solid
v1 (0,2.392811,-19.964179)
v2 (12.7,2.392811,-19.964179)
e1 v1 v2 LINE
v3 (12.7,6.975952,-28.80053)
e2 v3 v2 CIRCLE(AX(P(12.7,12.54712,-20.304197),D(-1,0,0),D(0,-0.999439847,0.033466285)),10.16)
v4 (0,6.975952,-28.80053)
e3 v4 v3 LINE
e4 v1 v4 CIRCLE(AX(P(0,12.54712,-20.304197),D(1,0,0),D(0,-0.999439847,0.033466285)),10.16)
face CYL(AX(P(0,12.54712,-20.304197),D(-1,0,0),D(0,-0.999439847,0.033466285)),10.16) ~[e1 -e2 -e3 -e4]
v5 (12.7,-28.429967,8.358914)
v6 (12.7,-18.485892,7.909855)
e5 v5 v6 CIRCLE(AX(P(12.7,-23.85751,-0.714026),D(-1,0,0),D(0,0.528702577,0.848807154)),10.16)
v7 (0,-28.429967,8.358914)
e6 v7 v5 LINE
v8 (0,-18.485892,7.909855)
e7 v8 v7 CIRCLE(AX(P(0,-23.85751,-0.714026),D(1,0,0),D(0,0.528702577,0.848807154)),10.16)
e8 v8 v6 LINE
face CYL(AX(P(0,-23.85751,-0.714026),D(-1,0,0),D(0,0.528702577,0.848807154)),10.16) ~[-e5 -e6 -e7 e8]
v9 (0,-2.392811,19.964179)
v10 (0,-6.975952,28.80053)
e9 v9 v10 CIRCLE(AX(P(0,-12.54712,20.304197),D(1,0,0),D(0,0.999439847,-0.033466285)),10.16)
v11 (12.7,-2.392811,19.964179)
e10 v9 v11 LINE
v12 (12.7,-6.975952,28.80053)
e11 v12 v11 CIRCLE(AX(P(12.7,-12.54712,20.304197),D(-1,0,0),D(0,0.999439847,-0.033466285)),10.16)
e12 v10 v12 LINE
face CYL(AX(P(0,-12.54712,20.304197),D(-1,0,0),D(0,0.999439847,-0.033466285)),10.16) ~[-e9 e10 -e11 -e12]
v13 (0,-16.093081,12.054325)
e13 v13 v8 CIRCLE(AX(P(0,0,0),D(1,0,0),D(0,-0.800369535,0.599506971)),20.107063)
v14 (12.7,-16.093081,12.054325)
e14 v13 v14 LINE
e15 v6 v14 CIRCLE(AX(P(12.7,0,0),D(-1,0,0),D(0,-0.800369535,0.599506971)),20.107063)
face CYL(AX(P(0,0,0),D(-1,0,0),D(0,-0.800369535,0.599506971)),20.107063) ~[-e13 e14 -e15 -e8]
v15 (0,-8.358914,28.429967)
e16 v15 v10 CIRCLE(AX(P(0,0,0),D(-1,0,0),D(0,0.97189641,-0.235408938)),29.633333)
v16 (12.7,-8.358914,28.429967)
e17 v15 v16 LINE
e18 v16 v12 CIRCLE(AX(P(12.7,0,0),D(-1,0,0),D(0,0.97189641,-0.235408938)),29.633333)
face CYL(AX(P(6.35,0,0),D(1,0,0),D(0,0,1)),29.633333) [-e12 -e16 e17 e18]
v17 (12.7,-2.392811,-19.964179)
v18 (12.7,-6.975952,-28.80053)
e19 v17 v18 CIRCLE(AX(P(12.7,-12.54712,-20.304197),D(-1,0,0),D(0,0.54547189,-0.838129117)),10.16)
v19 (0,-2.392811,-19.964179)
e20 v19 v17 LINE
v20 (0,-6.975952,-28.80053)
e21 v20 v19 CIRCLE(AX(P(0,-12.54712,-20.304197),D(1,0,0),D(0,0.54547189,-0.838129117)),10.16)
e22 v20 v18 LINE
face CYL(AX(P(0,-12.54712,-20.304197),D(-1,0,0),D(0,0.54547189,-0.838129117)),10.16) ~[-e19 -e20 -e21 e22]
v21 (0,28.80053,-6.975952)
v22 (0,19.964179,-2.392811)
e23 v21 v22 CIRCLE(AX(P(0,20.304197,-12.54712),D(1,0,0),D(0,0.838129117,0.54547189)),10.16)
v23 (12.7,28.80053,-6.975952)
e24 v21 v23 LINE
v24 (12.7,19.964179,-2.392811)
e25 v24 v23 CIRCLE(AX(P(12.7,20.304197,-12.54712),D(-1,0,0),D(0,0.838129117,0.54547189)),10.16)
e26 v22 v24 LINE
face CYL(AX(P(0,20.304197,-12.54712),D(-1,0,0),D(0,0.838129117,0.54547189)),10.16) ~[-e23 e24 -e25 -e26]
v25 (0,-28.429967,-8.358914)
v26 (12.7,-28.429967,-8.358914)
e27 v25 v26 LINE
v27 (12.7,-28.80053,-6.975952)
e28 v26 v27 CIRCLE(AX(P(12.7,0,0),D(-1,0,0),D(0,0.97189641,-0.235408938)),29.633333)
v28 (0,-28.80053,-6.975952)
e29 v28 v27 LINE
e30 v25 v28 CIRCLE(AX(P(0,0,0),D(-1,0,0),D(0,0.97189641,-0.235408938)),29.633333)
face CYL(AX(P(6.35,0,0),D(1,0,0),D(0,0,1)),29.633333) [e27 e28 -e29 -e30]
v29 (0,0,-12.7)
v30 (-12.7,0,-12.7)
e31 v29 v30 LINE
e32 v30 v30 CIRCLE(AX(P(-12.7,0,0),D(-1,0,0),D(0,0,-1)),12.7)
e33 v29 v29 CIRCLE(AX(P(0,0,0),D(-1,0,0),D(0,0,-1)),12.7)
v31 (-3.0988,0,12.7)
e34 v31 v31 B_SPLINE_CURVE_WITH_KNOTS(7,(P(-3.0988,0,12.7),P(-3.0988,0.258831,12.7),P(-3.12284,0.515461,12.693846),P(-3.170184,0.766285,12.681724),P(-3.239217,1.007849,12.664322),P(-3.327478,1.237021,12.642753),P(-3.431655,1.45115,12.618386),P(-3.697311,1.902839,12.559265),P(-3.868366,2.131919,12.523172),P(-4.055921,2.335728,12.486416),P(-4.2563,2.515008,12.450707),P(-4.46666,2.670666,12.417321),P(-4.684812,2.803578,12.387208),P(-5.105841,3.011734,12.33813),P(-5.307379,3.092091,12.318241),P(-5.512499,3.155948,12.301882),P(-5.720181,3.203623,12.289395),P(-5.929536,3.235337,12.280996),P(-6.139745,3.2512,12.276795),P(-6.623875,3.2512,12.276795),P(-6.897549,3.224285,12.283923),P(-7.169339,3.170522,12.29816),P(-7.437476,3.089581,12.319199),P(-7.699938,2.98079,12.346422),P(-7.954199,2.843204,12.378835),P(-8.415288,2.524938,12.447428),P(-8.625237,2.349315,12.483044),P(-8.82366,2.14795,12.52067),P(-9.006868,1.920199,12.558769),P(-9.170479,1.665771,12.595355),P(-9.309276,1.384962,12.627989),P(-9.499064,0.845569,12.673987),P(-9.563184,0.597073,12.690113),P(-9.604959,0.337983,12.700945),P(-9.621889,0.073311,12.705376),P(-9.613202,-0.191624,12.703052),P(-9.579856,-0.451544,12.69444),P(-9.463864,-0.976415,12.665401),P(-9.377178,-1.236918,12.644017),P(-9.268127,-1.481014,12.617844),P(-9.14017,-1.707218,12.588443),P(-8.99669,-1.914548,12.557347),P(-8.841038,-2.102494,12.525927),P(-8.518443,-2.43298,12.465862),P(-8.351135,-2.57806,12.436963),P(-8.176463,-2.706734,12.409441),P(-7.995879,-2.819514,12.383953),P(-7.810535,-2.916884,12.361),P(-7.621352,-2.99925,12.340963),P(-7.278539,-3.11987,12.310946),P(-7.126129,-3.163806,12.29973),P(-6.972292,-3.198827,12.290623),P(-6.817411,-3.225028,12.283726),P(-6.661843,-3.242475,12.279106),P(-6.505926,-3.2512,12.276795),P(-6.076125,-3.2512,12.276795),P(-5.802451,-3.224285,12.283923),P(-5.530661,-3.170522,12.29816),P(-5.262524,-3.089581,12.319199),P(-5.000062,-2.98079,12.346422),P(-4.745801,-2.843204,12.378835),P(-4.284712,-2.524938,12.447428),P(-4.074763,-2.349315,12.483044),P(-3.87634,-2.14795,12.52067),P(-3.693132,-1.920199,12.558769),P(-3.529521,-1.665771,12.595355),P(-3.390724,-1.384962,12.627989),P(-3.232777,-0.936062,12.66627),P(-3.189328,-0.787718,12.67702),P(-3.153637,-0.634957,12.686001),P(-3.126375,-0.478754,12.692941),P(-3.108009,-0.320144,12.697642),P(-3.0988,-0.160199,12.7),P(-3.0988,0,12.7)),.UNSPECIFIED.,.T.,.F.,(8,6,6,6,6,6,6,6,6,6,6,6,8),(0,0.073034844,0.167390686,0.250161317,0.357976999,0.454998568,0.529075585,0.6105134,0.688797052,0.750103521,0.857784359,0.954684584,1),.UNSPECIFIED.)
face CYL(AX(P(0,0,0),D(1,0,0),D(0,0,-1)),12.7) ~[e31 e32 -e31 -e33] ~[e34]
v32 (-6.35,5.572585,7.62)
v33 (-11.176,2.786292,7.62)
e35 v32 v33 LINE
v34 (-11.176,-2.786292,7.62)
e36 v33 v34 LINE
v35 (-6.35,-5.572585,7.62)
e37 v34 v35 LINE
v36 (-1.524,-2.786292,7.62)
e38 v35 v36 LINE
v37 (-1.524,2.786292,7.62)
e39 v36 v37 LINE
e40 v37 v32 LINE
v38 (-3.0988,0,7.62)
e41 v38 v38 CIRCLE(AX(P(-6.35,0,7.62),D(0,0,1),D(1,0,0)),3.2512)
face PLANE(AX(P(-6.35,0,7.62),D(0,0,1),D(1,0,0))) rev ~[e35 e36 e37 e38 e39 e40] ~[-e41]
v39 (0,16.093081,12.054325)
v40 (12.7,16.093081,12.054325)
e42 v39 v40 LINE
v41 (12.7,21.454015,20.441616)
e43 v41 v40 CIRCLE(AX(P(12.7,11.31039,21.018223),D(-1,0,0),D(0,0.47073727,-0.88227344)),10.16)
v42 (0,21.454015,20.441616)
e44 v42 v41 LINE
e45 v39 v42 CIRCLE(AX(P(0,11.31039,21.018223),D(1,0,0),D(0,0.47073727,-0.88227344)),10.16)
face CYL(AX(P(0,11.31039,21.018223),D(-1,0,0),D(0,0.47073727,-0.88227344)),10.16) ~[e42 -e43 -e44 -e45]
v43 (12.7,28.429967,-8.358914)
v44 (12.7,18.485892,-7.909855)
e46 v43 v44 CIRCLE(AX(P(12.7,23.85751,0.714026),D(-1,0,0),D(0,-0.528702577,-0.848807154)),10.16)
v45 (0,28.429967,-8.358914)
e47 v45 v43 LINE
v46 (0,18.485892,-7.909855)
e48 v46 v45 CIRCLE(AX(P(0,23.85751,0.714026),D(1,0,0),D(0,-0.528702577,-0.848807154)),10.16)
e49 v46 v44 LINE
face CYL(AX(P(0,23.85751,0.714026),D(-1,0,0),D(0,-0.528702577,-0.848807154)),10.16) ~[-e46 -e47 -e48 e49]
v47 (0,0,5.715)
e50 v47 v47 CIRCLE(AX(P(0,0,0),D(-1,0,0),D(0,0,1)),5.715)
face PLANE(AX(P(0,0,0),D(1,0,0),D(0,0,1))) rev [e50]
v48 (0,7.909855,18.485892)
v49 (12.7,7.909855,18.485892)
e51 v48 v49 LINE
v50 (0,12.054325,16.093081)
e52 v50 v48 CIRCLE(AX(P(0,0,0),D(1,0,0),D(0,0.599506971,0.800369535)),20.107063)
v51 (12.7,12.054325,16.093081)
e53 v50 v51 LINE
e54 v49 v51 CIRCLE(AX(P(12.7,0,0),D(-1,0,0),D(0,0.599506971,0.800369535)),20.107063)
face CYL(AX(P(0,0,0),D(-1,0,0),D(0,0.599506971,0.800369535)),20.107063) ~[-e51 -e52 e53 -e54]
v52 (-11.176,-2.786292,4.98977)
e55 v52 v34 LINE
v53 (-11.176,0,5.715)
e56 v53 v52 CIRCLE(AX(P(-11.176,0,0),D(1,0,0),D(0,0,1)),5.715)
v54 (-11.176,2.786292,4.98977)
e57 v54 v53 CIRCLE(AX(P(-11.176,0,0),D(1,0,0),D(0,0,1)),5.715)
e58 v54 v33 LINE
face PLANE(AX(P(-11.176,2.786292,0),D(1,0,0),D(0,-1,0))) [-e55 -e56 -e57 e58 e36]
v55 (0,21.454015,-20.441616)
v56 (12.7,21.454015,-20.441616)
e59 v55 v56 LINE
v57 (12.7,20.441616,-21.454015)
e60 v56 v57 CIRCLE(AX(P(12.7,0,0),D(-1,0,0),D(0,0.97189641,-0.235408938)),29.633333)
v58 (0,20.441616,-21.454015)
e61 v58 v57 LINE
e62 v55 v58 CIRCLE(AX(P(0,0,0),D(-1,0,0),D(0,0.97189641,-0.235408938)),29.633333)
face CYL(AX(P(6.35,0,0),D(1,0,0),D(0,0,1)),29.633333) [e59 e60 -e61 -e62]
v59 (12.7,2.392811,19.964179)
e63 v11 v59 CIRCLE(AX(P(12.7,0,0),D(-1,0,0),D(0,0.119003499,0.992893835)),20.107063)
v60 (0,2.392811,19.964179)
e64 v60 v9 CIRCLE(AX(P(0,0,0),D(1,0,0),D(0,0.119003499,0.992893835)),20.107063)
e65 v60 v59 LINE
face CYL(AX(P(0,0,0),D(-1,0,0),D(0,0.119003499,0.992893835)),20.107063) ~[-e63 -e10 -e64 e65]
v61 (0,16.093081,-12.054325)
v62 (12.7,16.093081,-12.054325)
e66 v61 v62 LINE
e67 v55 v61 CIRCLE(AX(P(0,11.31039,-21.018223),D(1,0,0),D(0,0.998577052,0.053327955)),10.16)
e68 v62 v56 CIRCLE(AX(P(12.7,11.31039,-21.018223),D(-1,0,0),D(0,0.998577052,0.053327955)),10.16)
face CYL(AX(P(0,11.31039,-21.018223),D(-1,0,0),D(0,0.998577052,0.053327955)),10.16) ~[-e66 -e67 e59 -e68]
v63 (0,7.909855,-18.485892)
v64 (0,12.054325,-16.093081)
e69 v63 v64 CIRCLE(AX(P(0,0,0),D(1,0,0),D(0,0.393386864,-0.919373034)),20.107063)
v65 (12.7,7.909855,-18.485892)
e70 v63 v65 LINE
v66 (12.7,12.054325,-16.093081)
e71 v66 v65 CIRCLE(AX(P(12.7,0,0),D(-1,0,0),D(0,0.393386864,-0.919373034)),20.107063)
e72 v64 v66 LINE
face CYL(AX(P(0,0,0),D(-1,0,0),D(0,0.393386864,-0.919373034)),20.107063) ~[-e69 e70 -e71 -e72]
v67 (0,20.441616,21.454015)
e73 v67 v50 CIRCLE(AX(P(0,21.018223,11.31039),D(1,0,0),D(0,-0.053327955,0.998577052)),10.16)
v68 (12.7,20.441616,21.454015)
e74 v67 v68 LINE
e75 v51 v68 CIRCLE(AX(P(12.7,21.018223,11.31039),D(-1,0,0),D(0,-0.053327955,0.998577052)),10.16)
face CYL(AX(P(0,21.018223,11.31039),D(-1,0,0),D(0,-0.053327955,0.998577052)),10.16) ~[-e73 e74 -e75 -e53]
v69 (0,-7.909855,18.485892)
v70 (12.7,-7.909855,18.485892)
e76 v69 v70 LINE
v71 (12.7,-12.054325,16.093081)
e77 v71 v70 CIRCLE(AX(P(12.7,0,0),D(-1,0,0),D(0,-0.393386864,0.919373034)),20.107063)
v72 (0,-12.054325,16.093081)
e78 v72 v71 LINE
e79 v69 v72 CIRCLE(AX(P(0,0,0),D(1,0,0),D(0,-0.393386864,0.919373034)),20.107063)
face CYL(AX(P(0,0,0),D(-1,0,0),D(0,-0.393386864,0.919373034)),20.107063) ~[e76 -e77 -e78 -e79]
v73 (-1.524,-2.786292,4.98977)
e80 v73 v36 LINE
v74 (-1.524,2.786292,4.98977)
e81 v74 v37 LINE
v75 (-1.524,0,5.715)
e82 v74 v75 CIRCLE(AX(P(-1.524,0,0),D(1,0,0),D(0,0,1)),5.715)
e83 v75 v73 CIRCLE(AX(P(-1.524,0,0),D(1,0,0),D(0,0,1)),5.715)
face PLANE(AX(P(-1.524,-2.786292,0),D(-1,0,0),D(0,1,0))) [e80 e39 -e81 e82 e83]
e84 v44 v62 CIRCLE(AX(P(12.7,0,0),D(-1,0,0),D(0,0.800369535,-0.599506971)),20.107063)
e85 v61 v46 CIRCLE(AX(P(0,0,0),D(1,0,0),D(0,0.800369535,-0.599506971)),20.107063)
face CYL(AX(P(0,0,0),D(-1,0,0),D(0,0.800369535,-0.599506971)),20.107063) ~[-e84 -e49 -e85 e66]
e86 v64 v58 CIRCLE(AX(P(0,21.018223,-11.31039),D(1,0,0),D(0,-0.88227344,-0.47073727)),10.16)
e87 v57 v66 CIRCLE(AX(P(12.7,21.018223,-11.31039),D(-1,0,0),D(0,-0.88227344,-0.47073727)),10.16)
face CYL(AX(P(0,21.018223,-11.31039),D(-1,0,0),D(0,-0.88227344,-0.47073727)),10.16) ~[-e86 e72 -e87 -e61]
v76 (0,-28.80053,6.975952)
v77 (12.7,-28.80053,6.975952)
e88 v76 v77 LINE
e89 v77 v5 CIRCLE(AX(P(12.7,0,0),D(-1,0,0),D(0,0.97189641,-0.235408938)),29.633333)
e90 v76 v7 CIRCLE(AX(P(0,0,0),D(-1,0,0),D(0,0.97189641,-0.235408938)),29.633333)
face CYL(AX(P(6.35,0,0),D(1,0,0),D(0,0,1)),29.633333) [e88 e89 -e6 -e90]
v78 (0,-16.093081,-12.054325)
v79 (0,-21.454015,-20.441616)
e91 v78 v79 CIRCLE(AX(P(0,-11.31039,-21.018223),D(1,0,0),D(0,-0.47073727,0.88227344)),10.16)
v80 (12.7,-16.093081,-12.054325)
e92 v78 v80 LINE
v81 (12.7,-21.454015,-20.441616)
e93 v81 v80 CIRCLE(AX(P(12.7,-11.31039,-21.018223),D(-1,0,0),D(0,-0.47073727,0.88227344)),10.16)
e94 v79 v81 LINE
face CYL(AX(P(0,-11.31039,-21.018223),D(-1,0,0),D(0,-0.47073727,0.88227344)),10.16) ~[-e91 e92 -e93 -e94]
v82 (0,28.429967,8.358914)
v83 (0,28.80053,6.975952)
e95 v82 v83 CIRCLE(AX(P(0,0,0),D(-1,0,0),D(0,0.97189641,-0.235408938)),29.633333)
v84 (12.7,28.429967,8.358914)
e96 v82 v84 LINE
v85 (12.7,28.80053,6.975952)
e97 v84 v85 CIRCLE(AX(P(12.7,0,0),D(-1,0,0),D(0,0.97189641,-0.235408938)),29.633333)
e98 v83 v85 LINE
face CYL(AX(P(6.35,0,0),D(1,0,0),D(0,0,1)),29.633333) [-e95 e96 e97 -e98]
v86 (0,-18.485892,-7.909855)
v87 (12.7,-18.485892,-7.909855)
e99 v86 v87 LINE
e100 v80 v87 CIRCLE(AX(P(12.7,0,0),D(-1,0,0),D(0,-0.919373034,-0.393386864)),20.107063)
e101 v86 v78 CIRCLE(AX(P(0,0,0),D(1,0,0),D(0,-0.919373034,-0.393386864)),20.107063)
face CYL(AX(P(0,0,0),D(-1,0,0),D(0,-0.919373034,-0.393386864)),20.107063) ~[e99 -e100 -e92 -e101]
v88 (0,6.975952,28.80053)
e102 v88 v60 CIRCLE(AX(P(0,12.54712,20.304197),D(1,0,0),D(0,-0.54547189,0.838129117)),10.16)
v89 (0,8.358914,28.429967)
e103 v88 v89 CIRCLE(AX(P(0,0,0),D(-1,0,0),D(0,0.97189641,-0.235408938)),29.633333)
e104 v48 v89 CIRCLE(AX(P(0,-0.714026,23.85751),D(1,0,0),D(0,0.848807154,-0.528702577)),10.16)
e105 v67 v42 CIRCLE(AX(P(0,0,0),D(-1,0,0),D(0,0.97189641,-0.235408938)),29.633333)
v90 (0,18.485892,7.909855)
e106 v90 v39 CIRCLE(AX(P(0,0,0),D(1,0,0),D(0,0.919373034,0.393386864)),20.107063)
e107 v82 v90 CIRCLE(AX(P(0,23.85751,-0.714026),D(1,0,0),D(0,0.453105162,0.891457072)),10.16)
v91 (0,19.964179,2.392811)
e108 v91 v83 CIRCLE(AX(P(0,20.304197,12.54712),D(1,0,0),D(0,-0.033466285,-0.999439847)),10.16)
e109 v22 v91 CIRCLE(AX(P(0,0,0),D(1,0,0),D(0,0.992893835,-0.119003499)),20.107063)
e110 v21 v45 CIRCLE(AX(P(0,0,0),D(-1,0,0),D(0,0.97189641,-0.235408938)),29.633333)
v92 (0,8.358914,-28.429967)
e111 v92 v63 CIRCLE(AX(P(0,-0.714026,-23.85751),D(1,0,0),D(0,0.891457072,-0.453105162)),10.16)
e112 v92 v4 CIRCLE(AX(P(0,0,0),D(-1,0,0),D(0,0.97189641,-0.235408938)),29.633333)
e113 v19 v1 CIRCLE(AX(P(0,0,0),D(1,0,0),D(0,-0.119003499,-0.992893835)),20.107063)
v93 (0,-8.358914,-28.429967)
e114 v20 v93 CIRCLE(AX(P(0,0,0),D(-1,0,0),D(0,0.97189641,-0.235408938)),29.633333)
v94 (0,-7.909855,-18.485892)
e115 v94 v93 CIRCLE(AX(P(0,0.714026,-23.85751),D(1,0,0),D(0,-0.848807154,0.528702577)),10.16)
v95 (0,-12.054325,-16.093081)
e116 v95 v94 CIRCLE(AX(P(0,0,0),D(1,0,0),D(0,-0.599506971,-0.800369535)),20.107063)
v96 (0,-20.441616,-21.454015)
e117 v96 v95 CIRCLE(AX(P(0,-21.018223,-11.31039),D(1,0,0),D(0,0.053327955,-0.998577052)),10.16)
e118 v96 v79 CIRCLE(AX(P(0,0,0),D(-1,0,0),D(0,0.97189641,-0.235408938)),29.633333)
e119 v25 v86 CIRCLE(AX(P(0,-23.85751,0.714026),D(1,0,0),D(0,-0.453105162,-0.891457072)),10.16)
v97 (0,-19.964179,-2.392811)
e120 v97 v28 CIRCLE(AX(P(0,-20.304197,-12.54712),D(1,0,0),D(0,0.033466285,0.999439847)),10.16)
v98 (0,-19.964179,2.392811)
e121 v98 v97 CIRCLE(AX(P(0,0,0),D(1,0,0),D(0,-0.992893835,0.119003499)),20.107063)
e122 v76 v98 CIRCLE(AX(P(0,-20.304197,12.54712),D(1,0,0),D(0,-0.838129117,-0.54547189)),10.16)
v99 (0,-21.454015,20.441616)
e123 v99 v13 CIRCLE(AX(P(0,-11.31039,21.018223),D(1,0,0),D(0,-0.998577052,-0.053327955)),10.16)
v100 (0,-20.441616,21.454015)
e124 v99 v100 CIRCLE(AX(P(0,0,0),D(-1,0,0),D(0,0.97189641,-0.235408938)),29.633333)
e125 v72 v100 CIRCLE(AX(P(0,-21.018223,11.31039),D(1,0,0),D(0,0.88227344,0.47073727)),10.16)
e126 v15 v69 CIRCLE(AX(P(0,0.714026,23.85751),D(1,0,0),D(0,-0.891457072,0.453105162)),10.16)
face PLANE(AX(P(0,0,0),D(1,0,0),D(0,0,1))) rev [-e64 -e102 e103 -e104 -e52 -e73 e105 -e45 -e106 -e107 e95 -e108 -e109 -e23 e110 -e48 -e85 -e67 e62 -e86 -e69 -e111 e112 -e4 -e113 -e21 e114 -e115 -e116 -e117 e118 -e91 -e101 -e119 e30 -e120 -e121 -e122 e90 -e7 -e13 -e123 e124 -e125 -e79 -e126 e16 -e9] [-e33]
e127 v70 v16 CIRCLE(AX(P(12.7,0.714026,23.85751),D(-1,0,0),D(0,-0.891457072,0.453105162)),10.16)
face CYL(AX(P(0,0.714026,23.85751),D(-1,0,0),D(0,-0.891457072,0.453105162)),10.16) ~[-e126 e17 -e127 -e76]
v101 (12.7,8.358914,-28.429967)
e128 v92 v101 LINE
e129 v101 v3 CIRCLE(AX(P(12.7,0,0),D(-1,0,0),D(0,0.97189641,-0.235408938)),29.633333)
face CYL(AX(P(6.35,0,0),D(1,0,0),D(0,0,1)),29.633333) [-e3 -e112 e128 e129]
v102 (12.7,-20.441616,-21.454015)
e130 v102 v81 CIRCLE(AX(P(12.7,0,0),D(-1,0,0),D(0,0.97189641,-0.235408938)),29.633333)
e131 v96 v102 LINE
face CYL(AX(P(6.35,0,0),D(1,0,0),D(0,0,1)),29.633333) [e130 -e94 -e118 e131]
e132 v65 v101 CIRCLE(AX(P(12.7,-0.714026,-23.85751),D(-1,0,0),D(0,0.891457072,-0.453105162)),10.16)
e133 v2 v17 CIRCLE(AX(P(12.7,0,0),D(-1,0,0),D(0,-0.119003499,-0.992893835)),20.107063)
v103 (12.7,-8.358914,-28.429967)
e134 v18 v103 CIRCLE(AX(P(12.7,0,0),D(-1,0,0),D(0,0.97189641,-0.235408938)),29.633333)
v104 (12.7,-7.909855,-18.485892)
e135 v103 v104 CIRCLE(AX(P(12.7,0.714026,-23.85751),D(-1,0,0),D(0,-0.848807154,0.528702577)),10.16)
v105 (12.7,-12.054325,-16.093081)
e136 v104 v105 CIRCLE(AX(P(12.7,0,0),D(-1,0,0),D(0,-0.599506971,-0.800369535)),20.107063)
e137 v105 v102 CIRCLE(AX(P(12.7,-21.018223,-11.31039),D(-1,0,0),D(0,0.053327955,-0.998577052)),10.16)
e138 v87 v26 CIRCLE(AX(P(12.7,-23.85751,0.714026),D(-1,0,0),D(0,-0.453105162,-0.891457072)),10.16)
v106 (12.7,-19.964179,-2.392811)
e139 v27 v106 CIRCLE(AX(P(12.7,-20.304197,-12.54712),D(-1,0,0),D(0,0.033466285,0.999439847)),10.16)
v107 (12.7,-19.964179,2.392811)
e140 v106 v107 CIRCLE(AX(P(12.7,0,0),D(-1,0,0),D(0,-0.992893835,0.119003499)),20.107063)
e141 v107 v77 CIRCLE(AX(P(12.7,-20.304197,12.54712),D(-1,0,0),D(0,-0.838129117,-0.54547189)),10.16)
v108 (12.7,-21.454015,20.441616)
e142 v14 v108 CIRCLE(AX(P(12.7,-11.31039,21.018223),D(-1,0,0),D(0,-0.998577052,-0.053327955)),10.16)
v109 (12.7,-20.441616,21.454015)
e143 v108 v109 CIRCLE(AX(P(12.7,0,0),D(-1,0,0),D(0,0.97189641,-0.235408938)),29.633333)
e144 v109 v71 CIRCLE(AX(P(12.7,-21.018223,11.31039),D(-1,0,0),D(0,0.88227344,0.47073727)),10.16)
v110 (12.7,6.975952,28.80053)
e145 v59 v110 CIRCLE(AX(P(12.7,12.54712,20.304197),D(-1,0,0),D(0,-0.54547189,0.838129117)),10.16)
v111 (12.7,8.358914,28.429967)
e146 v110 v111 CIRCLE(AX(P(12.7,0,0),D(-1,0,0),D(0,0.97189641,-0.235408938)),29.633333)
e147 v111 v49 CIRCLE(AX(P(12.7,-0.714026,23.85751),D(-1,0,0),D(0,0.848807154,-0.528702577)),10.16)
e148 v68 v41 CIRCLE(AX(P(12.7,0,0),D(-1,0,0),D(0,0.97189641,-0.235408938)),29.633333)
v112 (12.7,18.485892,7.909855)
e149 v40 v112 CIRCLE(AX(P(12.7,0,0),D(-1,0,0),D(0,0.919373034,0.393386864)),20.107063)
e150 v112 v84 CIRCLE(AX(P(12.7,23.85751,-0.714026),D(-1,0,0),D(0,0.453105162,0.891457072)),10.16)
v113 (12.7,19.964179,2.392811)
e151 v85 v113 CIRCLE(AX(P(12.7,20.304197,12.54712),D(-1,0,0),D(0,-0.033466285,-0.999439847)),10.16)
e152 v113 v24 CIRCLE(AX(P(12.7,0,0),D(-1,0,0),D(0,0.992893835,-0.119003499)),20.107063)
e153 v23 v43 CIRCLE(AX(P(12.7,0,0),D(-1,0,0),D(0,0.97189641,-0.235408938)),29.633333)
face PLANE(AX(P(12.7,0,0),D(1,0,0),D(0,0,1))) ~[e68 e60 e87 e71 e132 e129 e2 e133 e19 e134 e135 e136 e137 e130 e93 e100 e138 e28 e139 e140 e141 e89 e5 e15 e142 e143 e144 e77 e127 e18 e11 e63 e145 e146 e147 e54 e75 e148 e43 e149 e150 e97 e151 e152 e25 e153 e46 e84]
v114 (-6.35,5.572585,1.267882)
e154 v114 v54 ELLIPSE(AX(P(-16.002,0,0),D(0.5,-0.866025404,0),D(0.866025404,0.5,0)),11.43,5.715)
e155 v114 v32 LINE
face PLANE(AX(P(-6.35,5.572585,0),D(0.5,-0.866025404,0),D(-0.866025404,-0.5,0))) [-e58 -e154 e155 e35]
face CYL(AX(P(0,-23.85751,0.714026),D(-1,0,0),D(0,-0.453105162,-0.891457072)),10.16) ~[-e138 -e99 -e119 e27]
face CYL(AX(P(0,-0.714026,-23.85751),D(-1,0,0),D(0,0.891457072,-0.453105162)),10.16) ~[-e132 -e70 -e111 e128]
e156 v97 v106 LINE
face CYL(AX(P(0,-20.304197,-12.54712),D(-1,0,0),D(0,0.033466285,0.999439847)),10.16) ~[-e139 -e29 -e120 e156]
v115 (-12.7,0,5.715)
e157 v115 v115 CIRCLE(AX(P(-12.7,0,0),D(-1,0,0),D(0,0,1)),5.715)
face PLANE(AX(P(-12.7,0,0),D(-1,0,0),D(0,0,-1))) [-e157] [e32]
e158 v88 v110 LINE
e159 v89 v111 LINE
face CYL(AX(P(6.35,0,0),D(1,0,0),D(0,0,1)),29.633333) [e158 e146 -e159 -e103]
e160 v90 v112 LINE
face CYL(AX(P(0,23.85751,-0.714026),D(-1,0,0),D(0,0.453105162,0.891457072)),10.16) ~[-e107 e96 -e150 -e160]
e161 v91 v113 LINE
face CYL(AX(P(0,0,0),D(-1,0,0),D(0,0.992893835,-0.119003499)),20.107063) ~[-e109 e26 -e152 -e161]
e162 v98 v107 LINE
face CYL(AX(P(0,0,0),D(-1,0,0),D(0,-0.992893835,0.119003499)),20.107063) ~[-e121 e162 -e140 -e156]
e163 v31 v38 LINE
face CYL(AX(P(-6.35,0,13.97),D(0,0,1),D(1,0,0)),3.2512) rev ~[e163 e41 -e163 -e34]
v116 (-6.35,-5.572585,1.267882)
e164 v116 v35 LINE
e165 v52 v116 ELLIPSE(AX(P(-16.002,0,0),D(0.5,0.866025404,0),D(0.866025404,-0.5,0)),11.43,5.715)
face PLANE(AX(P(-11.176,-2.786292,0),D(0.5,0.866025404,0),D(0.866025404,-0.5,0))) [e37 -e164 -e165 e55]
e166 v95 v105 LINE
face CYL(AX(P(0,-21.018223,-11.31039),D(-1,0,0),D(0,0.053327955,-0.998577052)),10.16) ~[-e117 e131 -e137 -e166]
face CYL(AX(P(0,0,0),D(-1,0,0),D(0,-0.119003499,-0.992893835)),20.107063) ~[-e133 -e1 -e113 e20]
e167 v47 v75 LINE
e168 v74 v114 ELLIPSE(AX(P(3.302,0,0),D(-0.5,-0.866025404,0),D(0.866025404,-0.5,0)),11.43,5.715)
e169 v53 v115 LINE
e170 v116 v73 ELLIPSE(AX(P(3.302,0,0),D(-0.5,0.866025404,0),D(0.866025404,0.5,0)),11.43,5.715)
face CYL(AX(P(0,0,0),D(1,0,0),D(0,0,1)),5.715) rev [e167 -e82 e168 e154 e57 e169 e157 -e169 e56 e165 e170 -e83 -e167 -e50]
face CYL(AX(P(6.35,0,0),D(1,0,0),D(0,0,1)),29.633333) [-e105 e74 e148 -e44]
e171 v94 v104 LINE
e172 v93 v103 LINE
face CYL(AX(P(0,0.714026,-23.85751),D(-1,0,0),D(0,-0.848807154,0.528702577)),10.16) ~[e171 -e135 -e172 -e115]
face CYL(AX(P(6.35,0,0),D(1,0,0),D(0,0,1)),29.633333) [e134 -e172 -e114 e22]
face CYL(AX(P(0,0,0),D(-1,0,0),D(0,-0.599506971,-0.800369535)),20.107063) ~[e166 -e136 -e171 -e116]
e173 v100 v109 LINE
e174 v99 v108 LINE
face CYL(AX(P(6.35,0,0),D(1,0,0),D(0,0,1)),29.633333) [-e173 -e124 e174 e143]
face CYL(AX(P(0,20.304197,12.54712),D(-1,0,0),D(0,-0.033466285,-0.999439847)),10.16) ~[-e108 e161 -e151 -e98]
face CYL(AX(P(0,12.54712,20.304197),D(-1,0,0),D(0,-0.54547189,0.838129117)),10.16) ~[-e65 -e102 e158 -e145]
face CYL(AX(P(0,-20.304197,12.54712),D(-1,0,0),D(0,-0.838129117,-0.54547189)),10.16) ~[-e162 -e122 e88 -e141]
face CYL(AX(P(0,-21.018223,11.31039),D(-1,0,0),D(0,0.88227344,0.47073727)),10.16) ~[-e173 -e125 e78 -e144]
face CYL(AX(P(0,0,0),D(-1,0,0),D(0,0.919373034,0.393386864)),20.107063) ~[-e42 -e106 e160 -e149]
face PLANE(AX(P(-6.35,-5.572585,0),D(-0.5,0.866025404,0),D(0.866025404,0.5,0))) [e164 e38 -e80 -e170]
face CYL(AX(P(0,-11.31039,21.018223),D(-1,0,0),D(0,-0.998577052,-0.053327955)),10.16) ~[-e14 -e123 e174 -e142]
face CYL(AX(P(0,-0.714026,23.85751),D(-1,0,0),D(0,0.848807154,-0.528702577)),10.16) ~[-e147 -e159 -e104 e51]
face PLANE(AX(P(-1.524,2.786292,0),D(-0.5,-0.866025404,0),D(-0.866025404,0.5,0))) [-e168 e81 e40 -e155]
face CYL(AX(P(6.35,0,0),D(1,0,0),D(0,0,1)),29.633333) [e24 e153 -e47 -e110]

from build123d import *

# Parameters (mm, degrees)
BASPROSKE_W             = 12.7
BASPROSKE_H             = 29.633333333
TOOTHCUT_DEPTH          = 44.789940499
TEETHCUTS_COUNT         = 12
TEETHCUTS_ANGLE         = 330
SKETCH1_R               = 12.7
SKETCH1_R_2             = 5.715
BOSS_EXTRUDE1_DEPTH     = 12.7
CUT_EXTRUDE1_REACH      = 55.104
CUT_EXTRUDE1_END_RADIUS = 5.715
SKETCH2_R               = 3.2512
CUT_EXTRUDE2_DEPTH      = 7.62


with BuildPart() as part:
    # BasProSke → Base-Revolve (revolve)
    with BuildSketch(Plane(origin=(0, 0, 0), x_dir=(1, 0, 0), z_dir=(0, 1, 0)), mode=Mode.PRIVATE) as base_revolve_sk:
        with Locations((6.35, 14.816666667)):
            Rectangle(BASPROSKE_W, BASPROSKE_H)
    revolve(base_revolve_sk.sketch.rotate(Axis((-10, 0, 0), (1, 0, 0)), 180), axis=Axis((-10, 0, 0), (1, 0, 0)))

    # TooCutSke → ToothCut (cut, through all)
    with BuildSketch(Plane(origin=(0, 0, 0), x_dir=(0, 0, -1), z_dir=(1, 0, 0))):
        with BuildLine():
            ThreePointArc((2.3928109, 19.964179219), (0, 20.107063333), (-2.3928109, 19.964179219))
            ThreePointArc((-2.3928109, 19.964179219), (-3.536123556, 24.99754811), (-7.005125344, 28.819588509))
            ThreePointArc((-7.005125344, 28.819588509), (0, 29.658733333), (7.005125344, 28.819588509))
            ThreePointArc((7.005125344, 28.819588509), (3.536123556, 24.99754811), (2.3928109, 19.964179219))
        make_face()
    toothcut = extrude(amount=TOOTHCUT_DEPTH, mode=Mode.SUBTRACT)

    # TeethCuts: ToothCut ×12 about axis
    teethcuts_axis = Axis((-10, 0, 0), (1, 0, 0))
    for i in range(1, TEETHCUTS_COUNT):
        add(toothcut.rotate(teethcuts_axis, i * TEETHCUTS_ANGLE / (TEETHCUTS_COUNT - 1)), mode=Mode.SUBTRACT)

    # Sketch1 → Boss-Extrude1 (add)
    with BuildSketch(Plane.ZY):
        with Locations(Location((0, 0, 0), (0, 0, 180))):
            Circle(SKETCH1_R)
        Circle(SKETCH1_R_2, mode=Mode.SUBTRACT)
    extrude(amount=BOSS_EXTRUDE1_DEPTH)

    # Cut-Extrude1: up to this cylinder (the profile starts outside it)
    cut_extrude1_end = Plane(origin=(-6.35, 0, 0), z_dir=(1, 0, 0)) * Cylinder(CUT_EXTRUDE1_END_RADIUS, 122.638, mode=Mode.PRIVATE)
    # Sketch2 → Cut-Extrude1 (cut, up to the surface)
    with BuildSketch(Plane.XY.offset(13.97), mode=Mode.PRIVATE) as cut_extrude1_sk1:
        with Locations((-6.35, 0)):
            Circle(SKETCH2_R)
    cut_extrude1_tool1 = extrude(cut_extrude1_sk1.sketch, amount=-CUT_EXTRUDE1_REACH, mode=Mode.PRIVATE) - cut_extrude1_end
    add(cut_extrude1_tool1.solids().sort_by_distance((-6.35, 0, 13.97))[0], mode=Mode.SUBTRACT)

    # Sketch4 → Cut-Extrude2 (cut)
    with BuildSketch(Plane.XY):
        Polygon((-1.524, 2.786292399), (-6.35, 5.572584798), (-11.176, 2.786292399), (-11.176, -2.786292399), (-6.35, -5.572584798), (-1.524, -2.786292399), align=None)
    extrude(amount=CUT_EXTRUDE2_DEPTH, mode=Mode.SUBTRACT)


solid = part.part
